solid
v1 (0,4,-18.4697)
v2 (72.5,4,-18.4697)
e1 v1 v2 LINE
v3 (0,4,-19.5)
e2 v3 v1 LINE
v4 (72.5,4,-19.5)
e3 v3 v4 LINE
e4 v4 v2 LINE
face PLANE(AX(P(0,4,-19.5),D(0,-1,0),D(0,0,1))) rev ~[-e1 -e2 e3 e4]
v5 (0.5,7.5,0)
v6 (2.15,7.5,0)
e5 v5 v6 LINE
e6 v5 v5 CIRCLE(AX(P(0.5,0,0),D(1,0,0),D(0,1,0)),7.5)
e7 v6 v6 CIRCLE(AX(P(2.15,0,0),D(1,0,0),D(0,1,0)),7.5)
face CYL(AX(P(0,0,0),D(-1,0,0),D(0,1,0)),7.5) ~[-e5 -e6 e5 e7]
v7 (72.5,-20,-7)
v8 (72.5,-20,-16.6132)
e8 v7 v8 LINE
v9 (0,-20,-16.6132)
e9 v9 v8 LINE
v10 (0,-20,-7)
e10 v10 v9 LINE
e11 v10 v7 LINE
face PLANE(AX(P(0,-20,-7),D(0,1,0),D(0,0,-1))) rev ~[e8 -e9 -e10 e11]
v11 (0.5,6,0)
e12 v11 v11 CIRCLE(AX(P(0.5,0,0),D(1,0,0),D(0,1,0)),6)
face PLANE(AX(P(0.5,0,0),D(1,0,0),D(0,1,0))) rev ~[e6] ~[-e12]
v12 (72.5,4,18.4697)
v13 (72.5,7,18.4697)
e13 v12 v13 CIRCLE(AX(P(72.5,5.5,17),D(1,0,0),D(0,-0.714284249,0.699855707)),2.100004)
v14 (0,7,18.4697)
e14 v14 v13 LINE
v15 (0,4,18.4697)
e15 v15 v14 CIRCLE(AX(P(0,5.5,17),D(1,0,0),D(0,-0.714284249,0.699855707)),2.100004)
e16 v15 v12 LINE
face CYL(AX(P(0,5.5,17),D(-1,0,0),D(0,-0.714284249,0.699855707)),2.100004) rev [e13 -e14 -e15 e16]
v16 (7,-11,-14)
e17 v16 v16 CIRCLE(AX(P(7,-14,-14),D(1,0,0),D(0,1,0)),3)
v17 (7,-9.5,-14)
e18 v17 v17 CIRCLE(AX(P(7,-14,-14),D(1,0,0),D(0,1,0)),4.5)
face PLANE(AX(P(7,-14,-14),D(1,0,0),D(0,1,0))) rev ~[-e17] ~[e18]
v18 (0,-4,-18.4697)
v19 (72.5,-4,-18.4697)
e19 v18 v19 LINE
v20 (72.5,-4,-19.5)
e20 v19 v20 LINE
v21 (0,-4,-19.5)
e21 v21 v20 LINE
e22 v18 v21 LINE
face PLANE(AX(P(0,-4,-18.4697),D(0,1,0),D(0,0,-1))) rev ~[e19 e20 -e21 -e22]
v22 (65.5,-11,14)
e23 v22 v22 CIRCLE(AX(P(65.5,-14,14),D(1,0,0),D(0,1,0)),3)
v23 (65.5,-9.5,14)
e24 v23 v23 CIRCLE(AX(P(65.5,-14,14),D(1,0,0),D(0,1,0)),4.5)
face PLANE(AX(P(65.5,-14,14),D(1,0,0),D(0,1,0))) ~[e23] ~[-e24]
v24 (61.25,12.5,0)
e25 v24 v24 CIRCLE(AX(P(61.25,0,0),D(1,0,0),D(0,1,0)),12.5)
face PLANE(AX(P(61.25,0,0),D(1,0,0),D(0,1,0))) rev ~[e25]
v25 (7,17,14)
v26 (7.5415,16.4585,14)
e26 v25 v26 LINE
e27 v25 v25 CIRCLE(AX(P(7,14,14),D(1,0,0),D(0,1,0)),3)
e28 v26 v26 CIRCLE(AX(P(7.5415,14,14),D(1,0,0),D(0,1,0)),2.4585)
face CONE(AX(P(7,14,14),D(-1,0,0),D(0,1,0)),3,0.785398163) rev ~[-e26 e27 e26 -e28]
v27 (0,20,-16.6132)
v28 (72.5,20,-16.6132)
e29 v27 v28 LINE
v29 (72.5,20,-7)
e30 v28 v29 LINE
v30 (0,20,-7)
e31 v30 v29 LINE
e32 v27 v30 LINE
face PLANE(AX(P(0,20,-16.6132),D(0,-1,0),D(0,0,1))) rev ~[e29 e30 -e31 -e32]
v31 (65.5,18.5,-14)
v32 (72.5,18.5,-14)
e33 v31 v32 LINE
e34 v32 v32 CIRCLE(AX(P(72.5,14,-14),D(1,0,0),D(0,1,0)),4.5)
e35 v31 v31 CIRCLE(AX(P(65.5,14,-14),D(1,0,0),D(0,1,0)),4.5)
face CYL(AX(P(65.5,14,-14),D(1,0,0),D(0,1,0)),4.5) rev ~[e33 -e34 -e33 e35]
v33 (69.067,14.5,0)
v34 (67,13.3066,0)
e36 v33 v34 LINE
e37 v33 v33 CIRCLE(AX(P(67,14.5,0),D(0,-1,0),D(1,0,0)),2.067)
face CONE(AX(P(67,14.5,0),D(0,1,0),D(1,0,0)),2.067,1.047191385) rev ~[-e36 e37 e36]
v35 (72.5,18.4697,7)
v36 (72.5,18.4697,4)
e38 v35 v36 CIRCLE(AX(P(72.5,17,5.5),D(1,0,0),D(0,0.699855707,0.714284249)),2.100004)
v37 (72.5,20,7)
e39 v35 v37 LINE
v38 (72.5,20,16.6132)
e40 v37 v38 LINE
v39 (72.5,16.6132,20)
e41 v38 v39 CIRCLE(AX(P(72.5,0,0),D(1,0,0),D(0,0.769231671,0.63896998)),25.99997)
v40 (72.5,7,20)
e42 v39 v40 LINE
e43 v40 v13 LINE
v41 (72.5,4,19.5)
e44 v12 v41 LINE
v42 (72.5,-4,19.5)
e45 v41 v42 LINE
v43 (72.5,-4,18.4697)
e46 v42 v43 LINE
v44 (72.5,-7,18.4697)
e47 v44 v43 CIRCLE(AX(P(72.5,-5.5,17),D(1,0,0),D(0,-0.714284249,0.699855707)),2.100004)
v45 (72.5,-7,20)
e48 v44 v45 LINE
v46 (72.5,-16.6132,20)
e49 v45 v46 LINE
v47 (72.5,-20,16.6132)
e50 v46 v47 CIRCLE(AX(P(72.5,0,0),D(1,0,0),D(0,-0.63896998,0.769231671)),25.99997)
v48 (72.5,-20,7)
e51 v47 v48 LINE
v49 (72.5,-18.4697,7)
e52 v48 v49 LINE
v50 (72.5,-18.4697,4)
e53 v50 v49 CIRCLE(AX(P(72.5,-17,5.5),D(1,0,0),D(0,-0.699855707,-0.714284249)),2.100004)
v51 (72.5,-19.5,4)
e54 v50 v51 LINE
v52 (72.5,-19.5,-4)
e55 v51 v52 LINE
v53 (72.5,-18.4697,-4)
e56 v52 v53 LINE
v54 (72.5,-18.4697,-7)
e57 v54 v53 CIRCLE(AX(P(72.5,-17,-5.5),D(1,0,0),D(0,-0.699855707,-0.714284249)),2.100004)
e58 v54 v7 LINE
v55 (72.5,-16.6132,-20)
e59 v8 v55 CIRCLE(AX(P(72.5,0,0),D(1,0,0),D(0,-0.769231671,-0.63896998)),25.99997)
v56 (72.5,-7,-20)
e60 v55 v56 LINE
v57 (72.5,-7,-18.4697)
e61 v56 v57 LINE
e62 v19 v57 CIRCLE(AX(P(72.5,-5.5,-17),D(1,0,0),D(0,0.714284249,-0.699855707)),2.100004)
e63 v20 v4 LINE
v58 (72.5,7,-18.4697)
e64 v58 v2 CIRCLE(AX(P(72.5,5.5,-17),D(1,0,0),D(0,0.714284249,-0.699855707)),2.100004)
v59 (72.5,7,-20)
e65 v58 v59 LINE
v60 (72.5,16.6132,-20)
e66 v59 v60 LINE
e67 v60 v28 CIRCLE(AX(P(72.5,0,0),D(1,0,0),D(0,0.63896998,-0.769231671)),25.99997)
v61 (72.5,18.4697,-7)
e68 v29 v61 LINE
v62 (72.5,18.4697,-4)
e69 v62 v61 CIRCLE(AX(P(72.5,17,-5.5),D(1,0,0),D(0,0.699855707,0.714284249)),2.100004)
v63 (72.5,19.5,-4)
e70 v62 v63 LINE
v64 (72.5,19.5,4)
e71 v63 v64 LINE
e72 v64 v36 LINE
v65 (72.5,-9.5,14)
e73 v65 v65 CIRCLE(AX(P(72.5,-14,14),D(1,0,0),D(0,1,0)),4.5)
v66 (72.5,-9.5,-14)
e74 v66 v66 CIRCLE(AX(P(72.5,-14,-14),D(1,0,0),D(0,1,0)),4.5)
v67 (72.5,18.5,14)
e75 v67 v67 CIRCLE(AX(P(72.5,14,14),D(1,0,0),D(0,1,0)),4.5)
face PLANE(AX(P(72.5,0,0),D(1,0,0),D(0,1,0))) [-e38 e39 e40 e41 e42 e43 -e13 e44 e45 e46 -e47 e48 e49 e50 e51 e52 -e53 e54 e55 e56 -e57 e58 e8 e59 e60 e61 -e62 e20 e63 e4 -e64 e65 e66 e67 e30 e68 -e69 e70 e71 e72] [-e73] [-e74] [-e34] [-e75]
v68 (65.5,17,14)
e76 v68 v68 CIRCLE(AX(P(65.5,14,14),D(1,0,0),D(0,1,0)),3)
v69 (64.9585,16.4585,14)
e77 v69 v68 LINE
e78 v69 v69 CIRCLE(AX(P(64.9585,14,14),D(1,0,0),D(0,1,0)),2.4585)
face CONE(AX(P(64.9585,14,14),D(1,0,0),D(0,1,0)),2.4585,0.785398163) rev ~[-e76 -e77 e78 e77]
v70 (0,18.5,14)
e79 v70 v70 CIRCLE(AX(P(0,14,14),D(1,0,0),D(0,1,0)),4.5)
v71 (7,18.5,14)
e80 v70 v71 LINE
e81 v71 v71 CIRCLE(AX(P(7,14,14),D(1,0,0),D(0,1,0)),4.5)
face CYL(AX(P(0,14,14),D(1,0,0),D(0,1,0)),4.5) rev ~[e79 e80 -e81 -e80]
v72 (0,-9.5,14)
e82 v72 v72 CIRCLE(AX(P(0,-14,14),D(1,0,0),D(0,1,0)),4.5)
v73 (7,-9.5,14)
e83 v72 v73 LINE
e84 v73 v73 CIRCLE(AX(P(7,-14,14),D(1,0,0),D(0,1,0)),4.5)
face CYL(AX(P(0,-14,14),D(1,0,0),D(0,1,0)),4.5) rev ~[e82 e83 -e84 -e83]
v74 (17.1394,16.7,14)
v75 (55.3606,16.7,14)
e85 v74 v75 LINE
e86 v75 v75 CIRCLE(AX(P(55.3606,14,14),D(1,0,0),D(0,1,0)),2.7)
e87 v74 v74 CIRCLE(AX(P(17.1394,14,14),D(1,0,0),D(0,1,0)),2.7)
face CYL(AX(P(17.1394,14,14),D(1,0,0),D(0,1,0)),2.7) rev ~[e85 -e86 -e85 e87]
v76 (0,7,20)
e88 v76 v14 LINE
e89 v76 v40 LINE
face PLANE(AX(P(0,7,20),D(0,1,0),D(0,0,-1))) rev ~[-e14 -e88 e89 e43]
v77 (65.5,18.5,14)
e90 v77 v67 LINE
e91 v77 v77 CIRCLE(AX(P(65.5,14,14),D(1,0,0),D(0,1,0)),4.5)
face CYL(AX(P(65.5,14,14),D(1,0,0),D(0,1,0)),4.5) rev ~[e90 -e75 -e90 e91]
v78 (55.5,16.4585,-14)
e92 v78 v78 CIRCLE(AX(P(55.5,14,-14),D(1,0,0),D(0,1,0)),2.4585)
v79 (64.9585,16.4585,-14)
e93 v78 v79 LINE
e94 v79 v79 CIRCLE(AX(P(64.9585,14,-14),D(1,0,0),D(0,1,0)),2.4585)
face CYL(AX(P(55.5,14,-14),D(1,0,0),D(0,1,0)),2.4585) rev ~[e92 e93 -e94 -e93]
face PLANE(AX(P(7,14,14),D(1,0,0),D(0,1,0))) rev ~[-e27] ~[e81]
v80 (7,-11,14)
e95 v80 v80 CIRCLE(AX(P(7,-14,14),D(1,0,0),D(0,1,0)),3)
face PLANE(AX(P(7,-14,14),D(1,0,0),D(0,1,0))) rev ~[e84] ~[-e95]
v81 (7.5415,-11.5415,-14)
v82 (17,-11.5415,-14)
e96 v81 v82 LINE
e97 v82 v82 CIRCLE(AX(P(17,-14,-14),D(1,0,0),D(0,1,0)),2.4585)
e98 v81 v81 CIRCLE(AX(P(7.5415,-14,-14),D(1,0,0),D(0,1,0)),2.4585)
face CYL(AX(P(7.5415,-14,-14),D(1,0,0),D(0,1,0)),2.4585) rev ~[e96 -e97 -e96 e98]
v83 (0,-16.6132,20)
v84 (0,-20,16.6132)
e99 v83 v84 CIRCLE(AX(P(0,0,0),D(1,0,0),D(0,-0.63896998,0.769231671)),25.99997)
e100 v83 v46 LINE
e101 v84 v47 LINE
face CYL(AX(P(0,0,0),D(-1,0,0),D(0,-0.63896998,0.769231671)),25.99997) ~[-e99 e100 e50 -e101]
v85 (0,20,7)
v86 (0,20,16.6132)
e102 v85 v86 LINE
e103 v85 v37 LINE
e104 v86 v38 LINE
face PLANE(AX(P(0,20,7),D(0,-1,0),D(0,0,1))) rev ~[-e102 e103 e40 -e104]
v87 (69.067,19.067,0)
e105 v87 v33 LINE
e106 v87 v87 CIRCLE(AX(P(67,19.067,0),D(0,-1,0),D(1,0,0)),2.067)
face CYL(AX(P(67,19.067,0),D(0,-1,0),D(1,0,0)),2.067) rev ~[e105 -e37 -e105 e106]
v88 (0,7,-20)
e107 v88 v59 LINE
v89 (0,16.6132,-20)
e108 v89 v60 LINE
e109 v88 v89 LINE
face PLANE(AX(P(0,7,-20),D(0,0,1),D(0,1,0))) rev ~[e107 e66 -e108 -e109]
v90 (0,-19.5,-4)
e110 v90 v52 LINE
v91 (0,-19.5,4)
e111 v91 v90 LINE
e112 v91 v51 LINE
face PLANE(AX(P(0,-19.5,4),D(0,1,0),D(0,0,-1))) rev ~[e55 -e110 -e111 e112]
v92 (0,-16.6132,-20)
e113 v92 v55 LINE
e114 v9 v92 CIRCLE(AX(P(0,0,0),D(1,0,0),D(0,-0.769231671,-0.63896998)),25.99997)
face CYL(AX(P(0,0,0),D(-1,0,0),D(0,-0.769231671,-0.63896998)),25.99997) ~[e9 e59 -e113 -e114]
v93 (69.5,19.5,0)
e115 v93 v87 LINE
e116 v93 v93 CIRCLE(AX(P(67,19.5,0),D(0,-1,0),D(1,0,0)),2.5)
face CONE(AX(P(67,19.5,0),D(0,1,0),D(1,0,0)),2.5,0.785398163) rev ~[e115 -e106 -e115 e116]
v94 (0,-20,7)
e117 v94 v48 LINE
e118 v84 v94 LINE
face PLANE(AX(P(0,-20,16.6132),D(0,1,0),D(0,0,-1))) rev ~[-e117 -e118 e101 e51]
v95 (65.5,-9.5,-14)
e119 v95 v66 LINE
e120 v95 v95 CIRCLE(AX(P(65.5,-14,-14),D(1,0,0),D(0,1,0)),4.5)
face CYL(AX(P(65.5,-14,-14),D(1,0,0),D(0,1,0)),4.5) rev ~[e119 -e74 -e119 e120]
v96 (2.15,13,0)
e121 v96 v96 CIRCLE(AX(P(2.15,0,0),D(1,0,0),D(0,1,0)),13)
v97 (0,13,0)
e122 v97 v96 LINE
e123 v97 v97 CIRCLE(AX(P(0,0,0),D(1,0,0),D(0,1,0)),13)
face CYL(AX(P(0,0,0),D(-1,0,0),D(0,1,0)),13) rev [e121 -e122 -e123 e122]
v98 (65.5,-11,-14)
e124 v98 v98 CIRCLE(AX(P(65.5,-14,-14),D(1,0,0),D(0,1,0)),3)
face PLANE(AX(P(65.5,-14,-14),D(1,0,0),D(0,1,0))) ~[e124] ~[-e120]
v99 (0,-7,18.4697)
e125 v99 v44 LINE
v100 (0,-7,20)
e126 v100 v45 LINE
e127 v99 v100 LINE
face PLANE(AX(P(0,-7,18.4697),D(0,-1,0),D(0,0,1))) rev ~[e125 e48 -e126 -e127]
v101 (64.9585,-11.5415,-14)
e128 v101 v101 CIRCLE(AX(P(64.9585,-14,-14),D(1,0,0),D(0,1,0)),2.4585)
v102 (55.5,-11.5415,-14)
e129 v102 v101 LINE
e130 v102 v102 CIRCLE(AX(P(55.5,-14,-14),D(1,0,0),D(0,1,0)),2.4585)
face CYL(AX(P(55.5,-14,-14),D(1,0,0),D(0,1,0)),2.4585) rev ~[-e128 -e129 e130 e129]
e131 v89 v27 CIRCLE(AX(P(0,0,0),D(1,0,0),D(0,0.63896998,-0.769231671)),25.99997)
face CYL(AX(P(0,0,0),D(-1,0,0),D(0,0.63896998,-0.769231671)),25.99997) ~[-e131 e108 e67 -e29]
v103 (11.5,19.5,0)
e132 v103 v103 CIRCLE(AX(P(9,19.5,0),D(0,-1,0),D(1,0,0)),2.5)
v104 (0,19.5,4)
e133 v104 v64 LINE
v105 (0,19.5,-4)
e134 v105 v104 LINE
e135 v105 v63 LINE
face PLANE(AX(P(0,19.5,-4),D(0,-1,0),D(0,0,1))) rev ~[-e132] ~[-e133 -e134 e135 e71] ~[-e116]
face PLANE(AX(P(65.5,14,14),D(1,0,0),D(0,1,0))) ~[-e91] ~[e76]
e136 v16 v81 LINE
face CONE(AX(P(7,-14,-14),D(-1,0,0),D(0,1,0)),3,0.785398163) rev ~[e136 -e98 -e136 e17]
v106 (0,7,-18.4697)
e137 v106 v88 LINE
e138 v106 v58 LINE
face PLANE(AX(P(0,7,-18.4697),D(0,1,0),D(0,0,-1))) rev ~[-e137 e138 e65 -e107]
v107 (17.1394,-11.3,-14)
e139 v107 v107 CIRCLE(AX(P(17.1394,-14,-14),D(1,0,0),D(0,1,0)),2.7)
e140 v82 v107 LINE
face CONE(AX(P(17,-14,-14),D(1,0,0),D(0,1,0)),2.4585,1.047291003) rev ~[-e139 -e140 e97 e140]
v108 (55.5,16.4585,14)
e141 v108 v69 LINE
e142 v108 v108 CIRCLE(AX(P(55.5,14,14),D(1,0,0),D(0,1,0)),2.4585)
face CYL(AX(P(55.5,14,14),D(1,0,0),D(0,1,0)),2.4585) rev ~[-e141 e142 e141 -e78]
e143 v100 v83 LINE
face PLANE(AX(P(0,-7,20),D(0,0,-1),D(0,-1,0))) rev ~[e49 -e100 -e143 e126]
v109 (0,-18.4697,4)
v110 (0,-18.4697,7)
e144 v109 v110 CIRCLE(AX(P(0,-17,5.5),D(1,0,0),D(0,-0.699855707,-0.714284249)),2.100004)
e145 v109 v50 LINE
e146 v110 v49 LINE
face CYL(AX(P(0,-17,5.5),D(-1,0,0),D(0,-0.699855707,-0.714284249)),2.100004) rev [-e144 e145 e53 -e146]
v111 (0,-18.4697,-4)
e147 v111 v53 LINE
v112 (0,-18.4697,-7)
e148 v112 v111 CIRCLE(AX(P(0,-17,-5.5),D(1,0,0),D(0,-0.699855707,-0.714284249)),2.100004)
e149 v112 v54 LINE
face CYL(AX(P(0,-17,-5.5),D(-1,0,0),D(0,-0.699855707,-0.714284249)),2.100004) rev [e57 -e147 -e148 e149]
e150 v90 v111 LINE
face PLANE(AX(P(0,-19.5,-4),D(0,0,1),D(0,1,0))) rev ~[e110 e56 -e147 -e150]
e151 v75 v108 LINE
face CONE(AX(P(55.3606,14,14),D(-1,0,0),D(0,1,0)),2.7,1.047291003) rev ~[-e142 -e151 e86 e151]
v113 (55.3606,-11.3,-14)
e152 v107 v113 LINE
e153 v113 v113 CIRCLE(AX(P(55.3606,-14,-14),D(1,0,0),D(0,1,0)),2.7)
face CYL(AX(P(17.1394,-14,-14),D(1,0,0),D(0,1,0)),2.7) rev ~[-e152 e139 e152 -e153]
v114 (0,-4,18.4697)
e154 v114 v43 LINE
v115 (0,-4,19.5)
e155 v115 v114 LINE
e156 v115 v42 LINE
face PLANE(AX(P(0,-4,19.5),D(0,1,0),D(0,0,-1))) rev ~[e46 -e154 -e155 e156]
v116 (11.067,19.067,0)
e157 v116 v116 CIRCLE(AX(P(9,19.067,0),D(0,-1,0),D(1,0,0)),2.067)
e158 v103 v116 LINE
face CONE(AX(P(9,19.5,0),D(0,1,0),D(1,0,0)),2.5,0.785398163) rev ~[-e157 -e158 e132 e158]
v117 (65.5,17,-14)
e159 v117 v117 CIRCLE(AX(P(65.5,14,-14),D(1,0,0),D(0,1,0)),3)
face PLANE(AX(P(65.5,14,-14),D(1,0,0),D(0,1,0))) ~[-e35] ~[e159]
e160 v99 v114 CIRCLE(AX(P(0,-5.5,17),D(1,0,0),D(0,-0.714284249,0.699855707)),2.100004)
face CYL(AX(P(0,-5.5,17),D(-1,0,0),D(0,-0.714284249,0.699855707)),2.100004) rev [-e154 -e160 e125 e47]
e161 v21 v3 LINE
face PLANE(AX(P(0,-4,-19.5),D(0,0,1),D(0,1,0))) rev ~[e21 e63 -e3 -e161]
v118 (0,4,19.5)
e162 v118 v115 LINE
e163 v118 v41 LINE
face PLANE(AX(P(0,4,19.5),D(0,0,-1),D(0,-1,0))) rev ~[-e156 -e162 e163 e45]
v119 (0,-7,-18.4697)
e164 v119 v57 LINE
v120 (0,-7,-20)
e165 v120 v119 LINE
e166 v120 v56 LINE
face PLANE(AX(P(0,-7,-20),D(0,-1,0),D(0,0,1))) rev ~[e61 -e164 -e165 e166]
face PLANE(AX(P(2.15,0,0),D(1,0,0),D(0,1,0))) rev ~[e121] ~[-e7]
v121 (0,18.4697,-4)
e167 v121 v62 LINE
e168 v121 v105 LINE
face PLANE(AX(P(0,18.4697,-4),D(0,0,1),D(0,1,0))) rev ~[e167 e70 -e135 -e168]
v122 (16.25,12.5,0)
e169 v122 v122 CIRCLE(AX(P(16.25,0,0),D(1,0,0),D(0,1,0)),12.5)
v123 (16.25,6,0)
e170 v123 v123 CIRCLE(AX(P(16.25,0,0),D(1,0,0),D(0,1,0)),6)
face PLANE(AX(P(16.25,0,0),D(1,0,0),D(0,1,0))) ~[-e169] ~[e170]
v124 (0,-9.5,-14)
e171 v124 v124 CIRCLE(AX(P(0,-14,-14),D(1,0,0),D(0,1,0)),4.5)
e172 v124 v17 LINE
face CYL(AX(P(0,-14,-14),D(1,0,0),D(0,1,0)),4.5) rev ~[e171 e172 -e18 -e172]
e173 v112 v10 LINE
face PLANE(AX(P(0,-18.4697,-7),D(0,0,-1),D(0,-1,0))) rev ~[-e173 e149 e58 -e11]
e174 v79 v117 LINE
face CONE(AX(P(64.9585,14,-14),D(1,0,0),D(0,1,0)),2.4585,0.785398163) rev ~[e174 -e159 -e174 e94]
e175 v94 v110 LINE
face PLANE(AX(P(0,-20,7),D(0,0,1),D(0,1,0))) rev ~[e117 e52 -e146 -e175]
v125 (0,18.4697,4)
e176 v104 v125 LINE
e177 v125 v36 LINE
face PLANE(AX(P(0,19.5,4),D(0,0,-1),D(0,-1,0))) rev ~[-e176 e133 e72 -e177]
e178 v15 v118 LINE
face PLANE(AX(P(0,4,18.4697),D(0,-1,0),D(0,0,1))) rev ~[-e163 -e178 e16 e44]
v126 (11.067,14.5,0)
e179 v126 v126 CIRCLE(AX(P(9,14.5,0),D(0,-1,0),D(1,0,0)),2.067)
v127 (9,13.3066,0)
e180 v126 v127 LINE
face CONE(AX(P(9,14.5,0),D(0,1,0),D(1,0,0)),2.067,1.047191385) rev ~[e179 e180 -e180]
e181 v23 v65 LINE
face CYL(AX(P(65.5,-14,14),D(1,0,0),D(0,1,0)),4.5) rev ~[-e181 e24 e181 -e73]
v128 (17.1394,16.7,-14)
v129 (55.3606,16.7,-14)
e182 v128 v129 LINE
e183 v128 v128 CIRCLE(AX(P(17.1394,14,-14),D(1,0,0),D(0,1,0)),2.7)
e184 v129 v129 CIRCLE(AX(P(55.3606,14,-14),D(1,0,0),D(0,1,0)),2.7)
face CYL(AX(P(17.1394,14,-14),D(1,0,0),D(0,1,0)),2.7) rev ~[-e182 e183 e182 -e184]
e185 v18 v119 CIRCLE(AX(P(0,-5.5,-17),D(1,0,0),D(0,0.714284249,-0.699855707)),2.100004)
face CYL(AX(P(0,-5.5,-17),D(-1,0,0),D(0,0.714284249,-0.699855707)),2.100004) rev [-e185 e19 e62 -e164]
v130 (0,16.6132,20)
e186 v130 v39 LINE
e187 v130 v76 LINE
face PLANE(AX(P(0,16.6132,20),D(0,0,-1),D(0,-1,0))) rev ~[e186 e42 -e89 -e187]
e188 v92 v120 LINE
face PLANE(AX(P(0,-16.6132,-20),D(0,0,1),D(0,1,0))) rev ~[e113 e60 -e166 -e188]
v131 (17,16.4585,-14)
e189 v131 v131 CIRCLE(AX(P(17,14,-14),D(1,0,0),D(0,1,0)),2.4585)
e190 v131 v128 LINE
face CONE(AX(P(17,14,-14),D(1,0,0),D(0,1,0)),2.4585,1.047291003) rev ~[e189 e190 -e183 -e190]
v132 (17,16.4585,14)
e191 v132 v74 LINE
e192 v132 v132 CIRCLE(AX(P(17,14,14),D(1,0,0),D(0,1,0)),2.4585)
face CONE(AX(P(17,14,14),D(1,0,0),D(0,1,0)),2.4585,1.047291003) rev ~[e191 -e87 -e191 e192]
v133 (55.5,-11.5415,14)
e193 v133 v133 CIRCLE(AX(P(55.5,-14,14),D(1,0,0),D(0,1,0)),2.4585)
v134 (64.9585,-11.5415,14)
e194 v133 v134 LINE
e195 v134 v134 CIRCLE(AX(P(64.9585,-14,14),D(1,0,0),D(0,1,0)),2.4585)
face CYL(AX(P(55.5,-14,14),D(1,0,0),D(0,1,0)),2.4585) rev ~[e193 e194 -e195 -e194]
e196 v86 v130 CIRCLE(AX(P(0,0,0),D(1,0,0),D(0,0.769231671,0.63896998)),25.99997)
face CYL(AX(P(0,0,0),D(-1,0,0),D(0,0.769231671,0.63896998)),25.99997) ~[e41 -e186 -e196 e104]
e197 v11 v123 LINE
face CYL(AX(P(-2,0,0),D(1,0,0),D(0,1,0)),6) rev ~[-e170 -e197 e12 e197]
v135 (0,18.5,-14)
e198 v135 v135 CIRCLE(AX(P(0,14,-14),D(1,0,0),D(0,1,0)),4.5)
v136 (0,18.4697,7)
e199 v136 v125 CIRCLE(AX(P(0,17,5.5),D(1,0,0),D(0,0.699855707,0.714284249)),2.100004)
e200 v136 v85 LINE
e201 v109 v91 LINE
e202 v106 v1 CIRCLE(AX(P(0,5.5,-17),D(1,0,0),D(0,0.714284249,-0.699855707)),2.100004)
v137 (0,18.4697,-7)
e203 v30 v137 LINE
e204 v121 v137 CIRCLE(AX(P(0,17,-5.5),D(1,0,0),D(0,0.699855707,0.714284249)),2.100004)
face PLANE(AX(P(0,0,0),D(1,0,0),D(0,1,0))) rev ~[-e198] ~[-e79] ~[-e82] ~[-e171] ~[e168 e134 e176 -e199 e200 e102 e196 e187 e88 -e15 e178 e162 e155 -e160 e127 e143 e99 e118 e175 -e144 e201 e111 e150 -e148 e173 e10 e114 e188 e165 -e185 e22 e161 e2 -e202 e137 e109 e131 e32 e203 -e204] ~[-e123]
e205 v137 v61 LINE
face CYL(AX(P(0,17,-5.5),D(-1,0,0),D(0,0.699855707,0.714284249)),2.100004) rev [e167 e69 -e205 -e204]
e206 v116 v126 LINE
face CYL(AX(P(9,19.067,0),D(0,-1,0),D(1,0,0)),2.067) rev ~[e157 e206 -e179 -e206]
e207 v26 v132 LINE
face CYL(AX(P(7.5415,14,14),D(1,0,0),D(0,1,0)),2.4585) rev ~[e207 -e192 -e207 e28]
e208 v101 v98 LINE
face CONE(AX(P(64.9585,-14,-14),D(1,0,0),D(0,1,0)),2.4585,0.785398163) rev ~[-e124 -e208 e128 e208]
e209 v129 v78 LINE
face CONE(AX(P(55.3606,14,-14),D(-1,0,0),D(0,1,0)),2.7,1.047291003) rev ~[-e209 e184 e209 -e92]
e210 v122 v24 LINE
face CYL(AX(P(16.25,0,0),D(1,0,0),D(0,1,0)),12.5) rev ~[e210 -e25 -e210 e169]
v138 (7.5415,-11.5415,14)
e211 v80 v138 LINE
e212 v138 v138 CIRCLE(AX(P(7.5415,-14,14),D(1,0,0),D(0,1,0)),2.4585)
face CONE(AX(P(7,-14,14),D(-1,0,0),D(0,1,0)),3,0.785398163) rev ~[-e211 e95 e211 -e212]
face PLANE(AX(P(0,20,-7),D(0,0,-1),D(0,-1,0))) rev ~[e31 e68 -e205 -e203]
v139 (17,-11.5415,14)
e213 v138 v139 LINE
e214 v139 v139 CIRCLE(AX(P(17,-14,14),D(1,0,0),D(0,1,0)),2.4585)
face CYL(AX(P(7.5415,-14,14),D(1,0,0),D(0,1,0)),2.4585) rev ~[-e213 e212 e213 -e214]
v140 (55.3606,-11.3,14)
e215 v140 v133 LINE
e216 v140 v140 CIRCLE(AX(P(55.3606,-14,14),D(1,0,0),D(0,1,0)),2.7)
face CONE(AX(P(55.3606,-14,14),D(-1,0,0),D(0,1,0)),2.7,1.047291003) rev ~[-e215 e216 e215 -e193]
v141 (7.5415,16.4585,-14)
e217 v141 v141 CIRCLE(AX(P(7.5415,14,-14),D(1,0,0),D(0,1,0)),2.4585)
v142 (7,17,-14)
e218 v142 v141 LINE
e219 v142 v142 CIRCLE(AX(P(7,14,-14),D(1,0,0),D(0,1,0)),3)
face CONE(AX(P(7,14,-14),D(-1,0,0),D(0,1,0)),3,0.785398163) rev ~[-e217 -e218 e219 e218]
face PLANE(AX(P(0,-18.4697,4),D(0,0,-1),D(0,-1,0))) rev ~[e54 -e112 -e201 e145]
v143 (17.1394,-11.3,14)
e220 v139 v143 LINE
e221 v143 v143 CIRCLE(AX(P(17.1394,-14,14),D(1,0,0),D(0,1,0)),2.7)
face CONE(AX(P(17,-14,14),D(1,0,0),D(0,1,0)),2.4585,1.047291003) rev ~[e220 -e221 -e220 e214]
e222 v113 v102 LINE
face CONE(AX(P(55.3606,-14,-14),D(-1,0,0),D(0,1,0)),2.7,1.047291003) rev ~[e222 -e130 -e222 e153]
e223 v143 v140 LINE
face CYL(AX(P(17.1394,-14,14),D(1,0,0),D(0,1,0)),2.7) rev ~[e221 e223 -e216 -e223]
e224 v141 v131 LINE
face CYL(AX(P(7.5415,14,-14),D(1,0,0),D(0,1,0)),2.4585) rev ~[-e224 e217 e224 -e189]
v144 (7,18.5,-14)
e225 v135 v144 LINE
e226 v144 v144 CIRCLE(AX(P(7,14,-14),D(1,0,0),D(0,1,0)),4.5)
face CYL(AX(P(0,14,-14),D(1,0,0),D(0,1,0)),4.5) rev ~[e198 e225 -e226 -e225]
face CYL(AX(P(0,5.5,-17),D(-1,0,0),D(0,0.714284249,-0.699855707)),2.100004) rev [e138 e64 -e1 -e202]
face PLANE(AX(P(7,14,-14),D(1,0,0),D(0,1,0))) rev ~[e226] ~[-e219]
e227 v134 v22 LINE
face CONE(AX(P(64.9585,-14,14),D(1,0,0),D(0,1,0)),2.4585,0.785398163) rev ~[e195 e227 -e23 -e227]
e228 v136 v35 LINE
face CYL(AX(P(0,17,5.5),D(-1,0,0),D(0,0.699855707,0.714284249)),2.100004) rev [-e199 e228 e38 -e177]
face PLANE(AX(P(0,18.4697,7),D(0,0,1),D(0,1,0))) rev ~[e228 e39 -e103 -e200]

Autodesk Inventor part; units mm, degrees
sketch "Sketch_13" plane through (0, 0, 0) normal (1, 0, 0) x (0, 1, 0)
  line L0 (16.6132, 20) -> (7, 20)
  line L1 (7, 20) -> (7, 18.4697)
  arc A0 (4, 18.4697) -> (7, 18.4697) centre (5.5, 17) ccw
  line L2 (4, 18.4697) -> (4, 19.5)
  line L3 (4, 19.5) -> (-4, 19.5)
  line L4 (-4, 19.5) -> (-4, 18.4697)
  arc A1 (-7, 18.4697) -> (-4, 18.4697) centre (-5.5, 17) ccw
  line L5 (-7, 18.4697) -> (-7, 20)
  line L6 (-7, 20) -> (-16.6132, 20)
  arc A2 (-16.6132, 20) -> (-20, 16.6132) centre (0, 0) ccw
  line L7 (-20, 16.6132) -> (-20, 7)
  line L8 (-20, 7) -> (-18.4697, 7)
  arc A3 (-18.4697, 4) -> (-18.4697, 7) centre (-17, 5.5) ccw
  line L9 (-18.4697, 4) -> (-19.5, 4)
  line L10 (-19.5, 4) -> (-19.5, -4)
  line L11 (-19.5, -4) -> (-18.4697, -4)
  arc A4 (-18.4697, -7) -> (-18.4697, -4) centre (-17, -5.5) ccw
  line L12 (-18.4697, -7) -> (-20, -7)
  line L13 (-20, -7) -> (-20, -16.6132)
  arc A5 (-20, -16.6132) -> (-16.6132, -20) centre (0, 0) ccw
  line L14 (-16.6132, -20) -> (-7, -20)
  line L15 (-7, -20) -> (-7, -18.4697)
  arc A6 (-4, -18.4697) -> (-7, -18.4697) centre (-5.5, -17) ccw
  line L16 (-4, -18.4697) -> (-4, -19.5)
  line L17 (-4, -19.5) -> (4, -19.5)
  line L18 (4, -19.5) -> (4, -18.4697)
  arc A7 (7, -18.4697) -> (4, -18.4697) centre (5.5, -17) ccw
  line L19 (7, -18.4697) -> (7, -20)
  line L20 (7, -20) -> (16.6132, -20)
  arc A8 (16.6132, -20) -> (20, -16.6132) centre (0, 0) ccw
  line L21 (20, -16.6132) -> (20, -7)
  line L22 (20, -7) -> (18.4697, -7)
  arc A9 (18.4697, -4) -> (18.4697, -7) centre (17, -5.5) ccw
  line L23 (18.4697, -4) -> (19.5, -4)
  line L24 (19.5, -4) -> (19.5, 4)
  line L25 (19.5, 4) -> (18.4697, 4)
  arc A10 (18.4697, 7) -> (18.4697, 4) centre (17, 5.5) ccw
  line L26 (18.4697, 7) -> (20, 7)
  line L27 (20, 7) -> (20, 16.6132)
  arc A11 (20, 16.6132) -> (16.6132, 20) centre (0, 0) ccw
extrude "Extrusion1" add sketch "Sketch_13" along normal blind 72.5
sketch "Sketch_2" plane through (0, 0, 14) normal (0, 0, 1) x (1, 0, 0)
  line L0 (72.5, 14) -> (0, 14)
  line L1 (0, 14) -> (0, 18.5)
  line L2 (0, 18.5) -> (7, 18.5)
  line L3 (7, 18.5) -> (7, 17)
  line L4 (7, 17) -> (7.5415, 16.4585)
  line L5 (7.5415, 16.4585) -> (17, 16.4585)
  line L6 (17, 16.4585) -> (17.1394, 16.7)
  line L7 (17.1394, 16.7) -> (55.3606, 16.7)
  line L8 (55.3606, 16.7) -> (55.5, 16.4585)
  line L9 (55.5, 16.4585) -> (64.9585, 16.4585)
  line L10 (64.9585, 16.4585) -> (65.5, 17)
  line L11 (65.5, 17) -> (65.5, 18.5)
  line L12 (65.5, 18.5) -> (72.5, 18.5)
  line L13 (72.5, 18.5) -> (72.5, 14)
  line L14 (72.5, 14) -> (0, 14)
revolve "Revolution1" cut sketch "Sketch_2" angle 360 about axis through (72.5, 14, 14) along (1, 0, 0)
thread "Thread1" size "M6x1" class "6H" standard "ISO Metric profile" full length
thread "Thread2" size "M6x1" class "6H" standard "ISO Metric profile" full length
pattern_linear "Rectangular Pattern1" count 2 spacing 28 along (0, 0, -1) count 2 spacing 28 along (0, -1, 0) of "Revolution1"
sketch "Sketch_5" plane through (0, 0, 0) normal (0, 0, 1) x (1, 0, 0)
  line L0 (61.25, 0) -> (-2, 0)
  line L1 (-2, 0) -> (-2, 6)
  line L2 (-2, 6) -> (16.25, 6)
  line L3 (16.25, 6) -> (16.25, 12.5)
  line L4 (16.25, 12.5) -> (61.25, 12.5)
  line L5 (61.25, 12.5) -> (61.25, 0)
  line L6 (61.25, 0) -> (-2, 0)
revolve "Revolution2" cut sketch "Sketch_5" angle 360 about axis through (61.25, 0, 0) along (1, 0, 0)
sketch "Sketch_4" plane through (0, 0, 0) normal (0, 0, 1) x (1, 0, 0)
  line L0 (9, 13.3066) -> (9, 19.5)
  line L1 (9, 19.5) -> (11.5, 19.5)
  line L2 (11.5, 19.5) -> (11.067, 19.067)
  line L3 (11.067, 19.067) -> (11.067, 14.5)
  line L4 (11.067, 14.5) -> (9, 13.3066)
  line L5 (9, 13.3066) -> (9, 19.5)
revolve "Revolution3" cut sketch "Sketch_4" angle 360 about axis through (9, 13.3066, 0) along (0, -1, 0)
thread "Thread3" size "M5x0.8" class "6H" standard "ISO Metric profile" full length
sketch "Sketch_6" plane through (0, 0, 0) normal (0, 0, 1) x (1, 0, 0)
  line L0 (67, 13.3066) -> (67, 19.5)
  line L1 (67, 19.5) -> (69.5, 19.5)
  line L2 (69.5, 19.5) -> (69.067, 19.067)
  line L3 (69.067, 19.067) -> (69.067, 14.5)
  line L4 (69.067, 14.5) -> (67, 13.3066)
  line L5 (67, 13.3066) -> (67, 19.5)
revolve "Revolution4" cut sketch "Sketch_6" angle 360 about axis through (67, 13.3066, 0) along (0, -1, 0)
thread "Thread4" size "M5x0.8" class "6H" standard "ISO Metric profile" full length
sketch "Sketch_26" plane through (0, 0, 0) normal (1, 0, 0) x (0, 1, 0)
  circle A0 centre (0, 0) radius 13
  circle A1 centre (0, 0) radius 7.5
extrude "Extrusion2" cut sketch "Sketch_26" along normal blind 2.15
sketch "Sketch_27" plane through (0, 0, 0) normal (1, 0, 0) x (0, 1, 0)
  circle A0 centre (0, 0) radius 7.5
extrude "Extrusion3" cut sketch "Sketch_27" along normal blind 0.5
ref_plane "BODY_DUMMY_XY" through (0, 0, 0) normal (-1, 0, 0) x (0, 0, -1)
ref_plane "BODY_DUMMY_YZ" through (0, 0, 0) normal (0, 0, -1) x (0, -1, 0)
ref_plane "BODY_DUMMY_ZX" through (0, 0, 0) normal (0, -1, 0) x (-1, 0, 0)
ref_plane "BODY_MOUBT1_XY" through (0, 0, 0) normal (-1, 0, 0) x (0, 0, -1)
ref_plane "BODY_MOUBT1_YZ" through (0, 0, 0) normal (0, 0, -1) x (0, -1, 0)
ref_plane "BODY_MOUBT1_ZX" through (0, 0, 0) normal (0, -1, 0) x (-1, 0, 0)
ref_plane "BODY_MOUBT2_XY" through (72.5, 0, 0) normal (1, 0, 0) x (0, 0, -1)
ref_plane "BODY_MOUBT2_YZ" through (72.5, 0, 0) normal (0, 0, -1) x (0, 1, 0)
ref_plane "BODY_MOUBT2_ZX" through (72.5, 0, 0) normal (0, 1, 0) x (1, 0, 0)
ref_plane "BODY_ROD_XY" through (0, 0, 0) normal (-1, 0, 0) x (0, 0, -1)
ref_plane "BODY_ROD_YZ" through (0, 0, 0) normal (0, 0, -1) x (0, -1, 0)
ref_plane "BODY_ROD_ZX" through (0, 0, 0) normal (0, -1, 0) x (-1, 0, 0)
ref_plane "BODY_SWA_XY" through (11, -5.5, 17) normal (-1, 0, 0) x (0, 0, -1)
ref_plane "BODY_SWA_YZ" through (11, -5.5, 17) normal (0, 0, -1) x (0, -1, 0)
ref_plane "BODY_SWA_ZX" through (11, -5.5, 17) normal (0, -1, 0) x (-1, 0, 0)
ref_plane "BODY_SWB_XY" through (63, 5.5, 17) normal (1, 0, 0) x (0, 0, -1)
ref_plane "BODY_SWB_YZ" through (63, 5.5, 17) normal (0, 0, -1) x (0, 1, 0)
ref_plane "BODY_SWB_ZX" through (63, 5.5, 17) normal (0, 1, 0) x (1, 0, 0)
properties part number "CDQSB25-40DM(1_0)_BODY"
